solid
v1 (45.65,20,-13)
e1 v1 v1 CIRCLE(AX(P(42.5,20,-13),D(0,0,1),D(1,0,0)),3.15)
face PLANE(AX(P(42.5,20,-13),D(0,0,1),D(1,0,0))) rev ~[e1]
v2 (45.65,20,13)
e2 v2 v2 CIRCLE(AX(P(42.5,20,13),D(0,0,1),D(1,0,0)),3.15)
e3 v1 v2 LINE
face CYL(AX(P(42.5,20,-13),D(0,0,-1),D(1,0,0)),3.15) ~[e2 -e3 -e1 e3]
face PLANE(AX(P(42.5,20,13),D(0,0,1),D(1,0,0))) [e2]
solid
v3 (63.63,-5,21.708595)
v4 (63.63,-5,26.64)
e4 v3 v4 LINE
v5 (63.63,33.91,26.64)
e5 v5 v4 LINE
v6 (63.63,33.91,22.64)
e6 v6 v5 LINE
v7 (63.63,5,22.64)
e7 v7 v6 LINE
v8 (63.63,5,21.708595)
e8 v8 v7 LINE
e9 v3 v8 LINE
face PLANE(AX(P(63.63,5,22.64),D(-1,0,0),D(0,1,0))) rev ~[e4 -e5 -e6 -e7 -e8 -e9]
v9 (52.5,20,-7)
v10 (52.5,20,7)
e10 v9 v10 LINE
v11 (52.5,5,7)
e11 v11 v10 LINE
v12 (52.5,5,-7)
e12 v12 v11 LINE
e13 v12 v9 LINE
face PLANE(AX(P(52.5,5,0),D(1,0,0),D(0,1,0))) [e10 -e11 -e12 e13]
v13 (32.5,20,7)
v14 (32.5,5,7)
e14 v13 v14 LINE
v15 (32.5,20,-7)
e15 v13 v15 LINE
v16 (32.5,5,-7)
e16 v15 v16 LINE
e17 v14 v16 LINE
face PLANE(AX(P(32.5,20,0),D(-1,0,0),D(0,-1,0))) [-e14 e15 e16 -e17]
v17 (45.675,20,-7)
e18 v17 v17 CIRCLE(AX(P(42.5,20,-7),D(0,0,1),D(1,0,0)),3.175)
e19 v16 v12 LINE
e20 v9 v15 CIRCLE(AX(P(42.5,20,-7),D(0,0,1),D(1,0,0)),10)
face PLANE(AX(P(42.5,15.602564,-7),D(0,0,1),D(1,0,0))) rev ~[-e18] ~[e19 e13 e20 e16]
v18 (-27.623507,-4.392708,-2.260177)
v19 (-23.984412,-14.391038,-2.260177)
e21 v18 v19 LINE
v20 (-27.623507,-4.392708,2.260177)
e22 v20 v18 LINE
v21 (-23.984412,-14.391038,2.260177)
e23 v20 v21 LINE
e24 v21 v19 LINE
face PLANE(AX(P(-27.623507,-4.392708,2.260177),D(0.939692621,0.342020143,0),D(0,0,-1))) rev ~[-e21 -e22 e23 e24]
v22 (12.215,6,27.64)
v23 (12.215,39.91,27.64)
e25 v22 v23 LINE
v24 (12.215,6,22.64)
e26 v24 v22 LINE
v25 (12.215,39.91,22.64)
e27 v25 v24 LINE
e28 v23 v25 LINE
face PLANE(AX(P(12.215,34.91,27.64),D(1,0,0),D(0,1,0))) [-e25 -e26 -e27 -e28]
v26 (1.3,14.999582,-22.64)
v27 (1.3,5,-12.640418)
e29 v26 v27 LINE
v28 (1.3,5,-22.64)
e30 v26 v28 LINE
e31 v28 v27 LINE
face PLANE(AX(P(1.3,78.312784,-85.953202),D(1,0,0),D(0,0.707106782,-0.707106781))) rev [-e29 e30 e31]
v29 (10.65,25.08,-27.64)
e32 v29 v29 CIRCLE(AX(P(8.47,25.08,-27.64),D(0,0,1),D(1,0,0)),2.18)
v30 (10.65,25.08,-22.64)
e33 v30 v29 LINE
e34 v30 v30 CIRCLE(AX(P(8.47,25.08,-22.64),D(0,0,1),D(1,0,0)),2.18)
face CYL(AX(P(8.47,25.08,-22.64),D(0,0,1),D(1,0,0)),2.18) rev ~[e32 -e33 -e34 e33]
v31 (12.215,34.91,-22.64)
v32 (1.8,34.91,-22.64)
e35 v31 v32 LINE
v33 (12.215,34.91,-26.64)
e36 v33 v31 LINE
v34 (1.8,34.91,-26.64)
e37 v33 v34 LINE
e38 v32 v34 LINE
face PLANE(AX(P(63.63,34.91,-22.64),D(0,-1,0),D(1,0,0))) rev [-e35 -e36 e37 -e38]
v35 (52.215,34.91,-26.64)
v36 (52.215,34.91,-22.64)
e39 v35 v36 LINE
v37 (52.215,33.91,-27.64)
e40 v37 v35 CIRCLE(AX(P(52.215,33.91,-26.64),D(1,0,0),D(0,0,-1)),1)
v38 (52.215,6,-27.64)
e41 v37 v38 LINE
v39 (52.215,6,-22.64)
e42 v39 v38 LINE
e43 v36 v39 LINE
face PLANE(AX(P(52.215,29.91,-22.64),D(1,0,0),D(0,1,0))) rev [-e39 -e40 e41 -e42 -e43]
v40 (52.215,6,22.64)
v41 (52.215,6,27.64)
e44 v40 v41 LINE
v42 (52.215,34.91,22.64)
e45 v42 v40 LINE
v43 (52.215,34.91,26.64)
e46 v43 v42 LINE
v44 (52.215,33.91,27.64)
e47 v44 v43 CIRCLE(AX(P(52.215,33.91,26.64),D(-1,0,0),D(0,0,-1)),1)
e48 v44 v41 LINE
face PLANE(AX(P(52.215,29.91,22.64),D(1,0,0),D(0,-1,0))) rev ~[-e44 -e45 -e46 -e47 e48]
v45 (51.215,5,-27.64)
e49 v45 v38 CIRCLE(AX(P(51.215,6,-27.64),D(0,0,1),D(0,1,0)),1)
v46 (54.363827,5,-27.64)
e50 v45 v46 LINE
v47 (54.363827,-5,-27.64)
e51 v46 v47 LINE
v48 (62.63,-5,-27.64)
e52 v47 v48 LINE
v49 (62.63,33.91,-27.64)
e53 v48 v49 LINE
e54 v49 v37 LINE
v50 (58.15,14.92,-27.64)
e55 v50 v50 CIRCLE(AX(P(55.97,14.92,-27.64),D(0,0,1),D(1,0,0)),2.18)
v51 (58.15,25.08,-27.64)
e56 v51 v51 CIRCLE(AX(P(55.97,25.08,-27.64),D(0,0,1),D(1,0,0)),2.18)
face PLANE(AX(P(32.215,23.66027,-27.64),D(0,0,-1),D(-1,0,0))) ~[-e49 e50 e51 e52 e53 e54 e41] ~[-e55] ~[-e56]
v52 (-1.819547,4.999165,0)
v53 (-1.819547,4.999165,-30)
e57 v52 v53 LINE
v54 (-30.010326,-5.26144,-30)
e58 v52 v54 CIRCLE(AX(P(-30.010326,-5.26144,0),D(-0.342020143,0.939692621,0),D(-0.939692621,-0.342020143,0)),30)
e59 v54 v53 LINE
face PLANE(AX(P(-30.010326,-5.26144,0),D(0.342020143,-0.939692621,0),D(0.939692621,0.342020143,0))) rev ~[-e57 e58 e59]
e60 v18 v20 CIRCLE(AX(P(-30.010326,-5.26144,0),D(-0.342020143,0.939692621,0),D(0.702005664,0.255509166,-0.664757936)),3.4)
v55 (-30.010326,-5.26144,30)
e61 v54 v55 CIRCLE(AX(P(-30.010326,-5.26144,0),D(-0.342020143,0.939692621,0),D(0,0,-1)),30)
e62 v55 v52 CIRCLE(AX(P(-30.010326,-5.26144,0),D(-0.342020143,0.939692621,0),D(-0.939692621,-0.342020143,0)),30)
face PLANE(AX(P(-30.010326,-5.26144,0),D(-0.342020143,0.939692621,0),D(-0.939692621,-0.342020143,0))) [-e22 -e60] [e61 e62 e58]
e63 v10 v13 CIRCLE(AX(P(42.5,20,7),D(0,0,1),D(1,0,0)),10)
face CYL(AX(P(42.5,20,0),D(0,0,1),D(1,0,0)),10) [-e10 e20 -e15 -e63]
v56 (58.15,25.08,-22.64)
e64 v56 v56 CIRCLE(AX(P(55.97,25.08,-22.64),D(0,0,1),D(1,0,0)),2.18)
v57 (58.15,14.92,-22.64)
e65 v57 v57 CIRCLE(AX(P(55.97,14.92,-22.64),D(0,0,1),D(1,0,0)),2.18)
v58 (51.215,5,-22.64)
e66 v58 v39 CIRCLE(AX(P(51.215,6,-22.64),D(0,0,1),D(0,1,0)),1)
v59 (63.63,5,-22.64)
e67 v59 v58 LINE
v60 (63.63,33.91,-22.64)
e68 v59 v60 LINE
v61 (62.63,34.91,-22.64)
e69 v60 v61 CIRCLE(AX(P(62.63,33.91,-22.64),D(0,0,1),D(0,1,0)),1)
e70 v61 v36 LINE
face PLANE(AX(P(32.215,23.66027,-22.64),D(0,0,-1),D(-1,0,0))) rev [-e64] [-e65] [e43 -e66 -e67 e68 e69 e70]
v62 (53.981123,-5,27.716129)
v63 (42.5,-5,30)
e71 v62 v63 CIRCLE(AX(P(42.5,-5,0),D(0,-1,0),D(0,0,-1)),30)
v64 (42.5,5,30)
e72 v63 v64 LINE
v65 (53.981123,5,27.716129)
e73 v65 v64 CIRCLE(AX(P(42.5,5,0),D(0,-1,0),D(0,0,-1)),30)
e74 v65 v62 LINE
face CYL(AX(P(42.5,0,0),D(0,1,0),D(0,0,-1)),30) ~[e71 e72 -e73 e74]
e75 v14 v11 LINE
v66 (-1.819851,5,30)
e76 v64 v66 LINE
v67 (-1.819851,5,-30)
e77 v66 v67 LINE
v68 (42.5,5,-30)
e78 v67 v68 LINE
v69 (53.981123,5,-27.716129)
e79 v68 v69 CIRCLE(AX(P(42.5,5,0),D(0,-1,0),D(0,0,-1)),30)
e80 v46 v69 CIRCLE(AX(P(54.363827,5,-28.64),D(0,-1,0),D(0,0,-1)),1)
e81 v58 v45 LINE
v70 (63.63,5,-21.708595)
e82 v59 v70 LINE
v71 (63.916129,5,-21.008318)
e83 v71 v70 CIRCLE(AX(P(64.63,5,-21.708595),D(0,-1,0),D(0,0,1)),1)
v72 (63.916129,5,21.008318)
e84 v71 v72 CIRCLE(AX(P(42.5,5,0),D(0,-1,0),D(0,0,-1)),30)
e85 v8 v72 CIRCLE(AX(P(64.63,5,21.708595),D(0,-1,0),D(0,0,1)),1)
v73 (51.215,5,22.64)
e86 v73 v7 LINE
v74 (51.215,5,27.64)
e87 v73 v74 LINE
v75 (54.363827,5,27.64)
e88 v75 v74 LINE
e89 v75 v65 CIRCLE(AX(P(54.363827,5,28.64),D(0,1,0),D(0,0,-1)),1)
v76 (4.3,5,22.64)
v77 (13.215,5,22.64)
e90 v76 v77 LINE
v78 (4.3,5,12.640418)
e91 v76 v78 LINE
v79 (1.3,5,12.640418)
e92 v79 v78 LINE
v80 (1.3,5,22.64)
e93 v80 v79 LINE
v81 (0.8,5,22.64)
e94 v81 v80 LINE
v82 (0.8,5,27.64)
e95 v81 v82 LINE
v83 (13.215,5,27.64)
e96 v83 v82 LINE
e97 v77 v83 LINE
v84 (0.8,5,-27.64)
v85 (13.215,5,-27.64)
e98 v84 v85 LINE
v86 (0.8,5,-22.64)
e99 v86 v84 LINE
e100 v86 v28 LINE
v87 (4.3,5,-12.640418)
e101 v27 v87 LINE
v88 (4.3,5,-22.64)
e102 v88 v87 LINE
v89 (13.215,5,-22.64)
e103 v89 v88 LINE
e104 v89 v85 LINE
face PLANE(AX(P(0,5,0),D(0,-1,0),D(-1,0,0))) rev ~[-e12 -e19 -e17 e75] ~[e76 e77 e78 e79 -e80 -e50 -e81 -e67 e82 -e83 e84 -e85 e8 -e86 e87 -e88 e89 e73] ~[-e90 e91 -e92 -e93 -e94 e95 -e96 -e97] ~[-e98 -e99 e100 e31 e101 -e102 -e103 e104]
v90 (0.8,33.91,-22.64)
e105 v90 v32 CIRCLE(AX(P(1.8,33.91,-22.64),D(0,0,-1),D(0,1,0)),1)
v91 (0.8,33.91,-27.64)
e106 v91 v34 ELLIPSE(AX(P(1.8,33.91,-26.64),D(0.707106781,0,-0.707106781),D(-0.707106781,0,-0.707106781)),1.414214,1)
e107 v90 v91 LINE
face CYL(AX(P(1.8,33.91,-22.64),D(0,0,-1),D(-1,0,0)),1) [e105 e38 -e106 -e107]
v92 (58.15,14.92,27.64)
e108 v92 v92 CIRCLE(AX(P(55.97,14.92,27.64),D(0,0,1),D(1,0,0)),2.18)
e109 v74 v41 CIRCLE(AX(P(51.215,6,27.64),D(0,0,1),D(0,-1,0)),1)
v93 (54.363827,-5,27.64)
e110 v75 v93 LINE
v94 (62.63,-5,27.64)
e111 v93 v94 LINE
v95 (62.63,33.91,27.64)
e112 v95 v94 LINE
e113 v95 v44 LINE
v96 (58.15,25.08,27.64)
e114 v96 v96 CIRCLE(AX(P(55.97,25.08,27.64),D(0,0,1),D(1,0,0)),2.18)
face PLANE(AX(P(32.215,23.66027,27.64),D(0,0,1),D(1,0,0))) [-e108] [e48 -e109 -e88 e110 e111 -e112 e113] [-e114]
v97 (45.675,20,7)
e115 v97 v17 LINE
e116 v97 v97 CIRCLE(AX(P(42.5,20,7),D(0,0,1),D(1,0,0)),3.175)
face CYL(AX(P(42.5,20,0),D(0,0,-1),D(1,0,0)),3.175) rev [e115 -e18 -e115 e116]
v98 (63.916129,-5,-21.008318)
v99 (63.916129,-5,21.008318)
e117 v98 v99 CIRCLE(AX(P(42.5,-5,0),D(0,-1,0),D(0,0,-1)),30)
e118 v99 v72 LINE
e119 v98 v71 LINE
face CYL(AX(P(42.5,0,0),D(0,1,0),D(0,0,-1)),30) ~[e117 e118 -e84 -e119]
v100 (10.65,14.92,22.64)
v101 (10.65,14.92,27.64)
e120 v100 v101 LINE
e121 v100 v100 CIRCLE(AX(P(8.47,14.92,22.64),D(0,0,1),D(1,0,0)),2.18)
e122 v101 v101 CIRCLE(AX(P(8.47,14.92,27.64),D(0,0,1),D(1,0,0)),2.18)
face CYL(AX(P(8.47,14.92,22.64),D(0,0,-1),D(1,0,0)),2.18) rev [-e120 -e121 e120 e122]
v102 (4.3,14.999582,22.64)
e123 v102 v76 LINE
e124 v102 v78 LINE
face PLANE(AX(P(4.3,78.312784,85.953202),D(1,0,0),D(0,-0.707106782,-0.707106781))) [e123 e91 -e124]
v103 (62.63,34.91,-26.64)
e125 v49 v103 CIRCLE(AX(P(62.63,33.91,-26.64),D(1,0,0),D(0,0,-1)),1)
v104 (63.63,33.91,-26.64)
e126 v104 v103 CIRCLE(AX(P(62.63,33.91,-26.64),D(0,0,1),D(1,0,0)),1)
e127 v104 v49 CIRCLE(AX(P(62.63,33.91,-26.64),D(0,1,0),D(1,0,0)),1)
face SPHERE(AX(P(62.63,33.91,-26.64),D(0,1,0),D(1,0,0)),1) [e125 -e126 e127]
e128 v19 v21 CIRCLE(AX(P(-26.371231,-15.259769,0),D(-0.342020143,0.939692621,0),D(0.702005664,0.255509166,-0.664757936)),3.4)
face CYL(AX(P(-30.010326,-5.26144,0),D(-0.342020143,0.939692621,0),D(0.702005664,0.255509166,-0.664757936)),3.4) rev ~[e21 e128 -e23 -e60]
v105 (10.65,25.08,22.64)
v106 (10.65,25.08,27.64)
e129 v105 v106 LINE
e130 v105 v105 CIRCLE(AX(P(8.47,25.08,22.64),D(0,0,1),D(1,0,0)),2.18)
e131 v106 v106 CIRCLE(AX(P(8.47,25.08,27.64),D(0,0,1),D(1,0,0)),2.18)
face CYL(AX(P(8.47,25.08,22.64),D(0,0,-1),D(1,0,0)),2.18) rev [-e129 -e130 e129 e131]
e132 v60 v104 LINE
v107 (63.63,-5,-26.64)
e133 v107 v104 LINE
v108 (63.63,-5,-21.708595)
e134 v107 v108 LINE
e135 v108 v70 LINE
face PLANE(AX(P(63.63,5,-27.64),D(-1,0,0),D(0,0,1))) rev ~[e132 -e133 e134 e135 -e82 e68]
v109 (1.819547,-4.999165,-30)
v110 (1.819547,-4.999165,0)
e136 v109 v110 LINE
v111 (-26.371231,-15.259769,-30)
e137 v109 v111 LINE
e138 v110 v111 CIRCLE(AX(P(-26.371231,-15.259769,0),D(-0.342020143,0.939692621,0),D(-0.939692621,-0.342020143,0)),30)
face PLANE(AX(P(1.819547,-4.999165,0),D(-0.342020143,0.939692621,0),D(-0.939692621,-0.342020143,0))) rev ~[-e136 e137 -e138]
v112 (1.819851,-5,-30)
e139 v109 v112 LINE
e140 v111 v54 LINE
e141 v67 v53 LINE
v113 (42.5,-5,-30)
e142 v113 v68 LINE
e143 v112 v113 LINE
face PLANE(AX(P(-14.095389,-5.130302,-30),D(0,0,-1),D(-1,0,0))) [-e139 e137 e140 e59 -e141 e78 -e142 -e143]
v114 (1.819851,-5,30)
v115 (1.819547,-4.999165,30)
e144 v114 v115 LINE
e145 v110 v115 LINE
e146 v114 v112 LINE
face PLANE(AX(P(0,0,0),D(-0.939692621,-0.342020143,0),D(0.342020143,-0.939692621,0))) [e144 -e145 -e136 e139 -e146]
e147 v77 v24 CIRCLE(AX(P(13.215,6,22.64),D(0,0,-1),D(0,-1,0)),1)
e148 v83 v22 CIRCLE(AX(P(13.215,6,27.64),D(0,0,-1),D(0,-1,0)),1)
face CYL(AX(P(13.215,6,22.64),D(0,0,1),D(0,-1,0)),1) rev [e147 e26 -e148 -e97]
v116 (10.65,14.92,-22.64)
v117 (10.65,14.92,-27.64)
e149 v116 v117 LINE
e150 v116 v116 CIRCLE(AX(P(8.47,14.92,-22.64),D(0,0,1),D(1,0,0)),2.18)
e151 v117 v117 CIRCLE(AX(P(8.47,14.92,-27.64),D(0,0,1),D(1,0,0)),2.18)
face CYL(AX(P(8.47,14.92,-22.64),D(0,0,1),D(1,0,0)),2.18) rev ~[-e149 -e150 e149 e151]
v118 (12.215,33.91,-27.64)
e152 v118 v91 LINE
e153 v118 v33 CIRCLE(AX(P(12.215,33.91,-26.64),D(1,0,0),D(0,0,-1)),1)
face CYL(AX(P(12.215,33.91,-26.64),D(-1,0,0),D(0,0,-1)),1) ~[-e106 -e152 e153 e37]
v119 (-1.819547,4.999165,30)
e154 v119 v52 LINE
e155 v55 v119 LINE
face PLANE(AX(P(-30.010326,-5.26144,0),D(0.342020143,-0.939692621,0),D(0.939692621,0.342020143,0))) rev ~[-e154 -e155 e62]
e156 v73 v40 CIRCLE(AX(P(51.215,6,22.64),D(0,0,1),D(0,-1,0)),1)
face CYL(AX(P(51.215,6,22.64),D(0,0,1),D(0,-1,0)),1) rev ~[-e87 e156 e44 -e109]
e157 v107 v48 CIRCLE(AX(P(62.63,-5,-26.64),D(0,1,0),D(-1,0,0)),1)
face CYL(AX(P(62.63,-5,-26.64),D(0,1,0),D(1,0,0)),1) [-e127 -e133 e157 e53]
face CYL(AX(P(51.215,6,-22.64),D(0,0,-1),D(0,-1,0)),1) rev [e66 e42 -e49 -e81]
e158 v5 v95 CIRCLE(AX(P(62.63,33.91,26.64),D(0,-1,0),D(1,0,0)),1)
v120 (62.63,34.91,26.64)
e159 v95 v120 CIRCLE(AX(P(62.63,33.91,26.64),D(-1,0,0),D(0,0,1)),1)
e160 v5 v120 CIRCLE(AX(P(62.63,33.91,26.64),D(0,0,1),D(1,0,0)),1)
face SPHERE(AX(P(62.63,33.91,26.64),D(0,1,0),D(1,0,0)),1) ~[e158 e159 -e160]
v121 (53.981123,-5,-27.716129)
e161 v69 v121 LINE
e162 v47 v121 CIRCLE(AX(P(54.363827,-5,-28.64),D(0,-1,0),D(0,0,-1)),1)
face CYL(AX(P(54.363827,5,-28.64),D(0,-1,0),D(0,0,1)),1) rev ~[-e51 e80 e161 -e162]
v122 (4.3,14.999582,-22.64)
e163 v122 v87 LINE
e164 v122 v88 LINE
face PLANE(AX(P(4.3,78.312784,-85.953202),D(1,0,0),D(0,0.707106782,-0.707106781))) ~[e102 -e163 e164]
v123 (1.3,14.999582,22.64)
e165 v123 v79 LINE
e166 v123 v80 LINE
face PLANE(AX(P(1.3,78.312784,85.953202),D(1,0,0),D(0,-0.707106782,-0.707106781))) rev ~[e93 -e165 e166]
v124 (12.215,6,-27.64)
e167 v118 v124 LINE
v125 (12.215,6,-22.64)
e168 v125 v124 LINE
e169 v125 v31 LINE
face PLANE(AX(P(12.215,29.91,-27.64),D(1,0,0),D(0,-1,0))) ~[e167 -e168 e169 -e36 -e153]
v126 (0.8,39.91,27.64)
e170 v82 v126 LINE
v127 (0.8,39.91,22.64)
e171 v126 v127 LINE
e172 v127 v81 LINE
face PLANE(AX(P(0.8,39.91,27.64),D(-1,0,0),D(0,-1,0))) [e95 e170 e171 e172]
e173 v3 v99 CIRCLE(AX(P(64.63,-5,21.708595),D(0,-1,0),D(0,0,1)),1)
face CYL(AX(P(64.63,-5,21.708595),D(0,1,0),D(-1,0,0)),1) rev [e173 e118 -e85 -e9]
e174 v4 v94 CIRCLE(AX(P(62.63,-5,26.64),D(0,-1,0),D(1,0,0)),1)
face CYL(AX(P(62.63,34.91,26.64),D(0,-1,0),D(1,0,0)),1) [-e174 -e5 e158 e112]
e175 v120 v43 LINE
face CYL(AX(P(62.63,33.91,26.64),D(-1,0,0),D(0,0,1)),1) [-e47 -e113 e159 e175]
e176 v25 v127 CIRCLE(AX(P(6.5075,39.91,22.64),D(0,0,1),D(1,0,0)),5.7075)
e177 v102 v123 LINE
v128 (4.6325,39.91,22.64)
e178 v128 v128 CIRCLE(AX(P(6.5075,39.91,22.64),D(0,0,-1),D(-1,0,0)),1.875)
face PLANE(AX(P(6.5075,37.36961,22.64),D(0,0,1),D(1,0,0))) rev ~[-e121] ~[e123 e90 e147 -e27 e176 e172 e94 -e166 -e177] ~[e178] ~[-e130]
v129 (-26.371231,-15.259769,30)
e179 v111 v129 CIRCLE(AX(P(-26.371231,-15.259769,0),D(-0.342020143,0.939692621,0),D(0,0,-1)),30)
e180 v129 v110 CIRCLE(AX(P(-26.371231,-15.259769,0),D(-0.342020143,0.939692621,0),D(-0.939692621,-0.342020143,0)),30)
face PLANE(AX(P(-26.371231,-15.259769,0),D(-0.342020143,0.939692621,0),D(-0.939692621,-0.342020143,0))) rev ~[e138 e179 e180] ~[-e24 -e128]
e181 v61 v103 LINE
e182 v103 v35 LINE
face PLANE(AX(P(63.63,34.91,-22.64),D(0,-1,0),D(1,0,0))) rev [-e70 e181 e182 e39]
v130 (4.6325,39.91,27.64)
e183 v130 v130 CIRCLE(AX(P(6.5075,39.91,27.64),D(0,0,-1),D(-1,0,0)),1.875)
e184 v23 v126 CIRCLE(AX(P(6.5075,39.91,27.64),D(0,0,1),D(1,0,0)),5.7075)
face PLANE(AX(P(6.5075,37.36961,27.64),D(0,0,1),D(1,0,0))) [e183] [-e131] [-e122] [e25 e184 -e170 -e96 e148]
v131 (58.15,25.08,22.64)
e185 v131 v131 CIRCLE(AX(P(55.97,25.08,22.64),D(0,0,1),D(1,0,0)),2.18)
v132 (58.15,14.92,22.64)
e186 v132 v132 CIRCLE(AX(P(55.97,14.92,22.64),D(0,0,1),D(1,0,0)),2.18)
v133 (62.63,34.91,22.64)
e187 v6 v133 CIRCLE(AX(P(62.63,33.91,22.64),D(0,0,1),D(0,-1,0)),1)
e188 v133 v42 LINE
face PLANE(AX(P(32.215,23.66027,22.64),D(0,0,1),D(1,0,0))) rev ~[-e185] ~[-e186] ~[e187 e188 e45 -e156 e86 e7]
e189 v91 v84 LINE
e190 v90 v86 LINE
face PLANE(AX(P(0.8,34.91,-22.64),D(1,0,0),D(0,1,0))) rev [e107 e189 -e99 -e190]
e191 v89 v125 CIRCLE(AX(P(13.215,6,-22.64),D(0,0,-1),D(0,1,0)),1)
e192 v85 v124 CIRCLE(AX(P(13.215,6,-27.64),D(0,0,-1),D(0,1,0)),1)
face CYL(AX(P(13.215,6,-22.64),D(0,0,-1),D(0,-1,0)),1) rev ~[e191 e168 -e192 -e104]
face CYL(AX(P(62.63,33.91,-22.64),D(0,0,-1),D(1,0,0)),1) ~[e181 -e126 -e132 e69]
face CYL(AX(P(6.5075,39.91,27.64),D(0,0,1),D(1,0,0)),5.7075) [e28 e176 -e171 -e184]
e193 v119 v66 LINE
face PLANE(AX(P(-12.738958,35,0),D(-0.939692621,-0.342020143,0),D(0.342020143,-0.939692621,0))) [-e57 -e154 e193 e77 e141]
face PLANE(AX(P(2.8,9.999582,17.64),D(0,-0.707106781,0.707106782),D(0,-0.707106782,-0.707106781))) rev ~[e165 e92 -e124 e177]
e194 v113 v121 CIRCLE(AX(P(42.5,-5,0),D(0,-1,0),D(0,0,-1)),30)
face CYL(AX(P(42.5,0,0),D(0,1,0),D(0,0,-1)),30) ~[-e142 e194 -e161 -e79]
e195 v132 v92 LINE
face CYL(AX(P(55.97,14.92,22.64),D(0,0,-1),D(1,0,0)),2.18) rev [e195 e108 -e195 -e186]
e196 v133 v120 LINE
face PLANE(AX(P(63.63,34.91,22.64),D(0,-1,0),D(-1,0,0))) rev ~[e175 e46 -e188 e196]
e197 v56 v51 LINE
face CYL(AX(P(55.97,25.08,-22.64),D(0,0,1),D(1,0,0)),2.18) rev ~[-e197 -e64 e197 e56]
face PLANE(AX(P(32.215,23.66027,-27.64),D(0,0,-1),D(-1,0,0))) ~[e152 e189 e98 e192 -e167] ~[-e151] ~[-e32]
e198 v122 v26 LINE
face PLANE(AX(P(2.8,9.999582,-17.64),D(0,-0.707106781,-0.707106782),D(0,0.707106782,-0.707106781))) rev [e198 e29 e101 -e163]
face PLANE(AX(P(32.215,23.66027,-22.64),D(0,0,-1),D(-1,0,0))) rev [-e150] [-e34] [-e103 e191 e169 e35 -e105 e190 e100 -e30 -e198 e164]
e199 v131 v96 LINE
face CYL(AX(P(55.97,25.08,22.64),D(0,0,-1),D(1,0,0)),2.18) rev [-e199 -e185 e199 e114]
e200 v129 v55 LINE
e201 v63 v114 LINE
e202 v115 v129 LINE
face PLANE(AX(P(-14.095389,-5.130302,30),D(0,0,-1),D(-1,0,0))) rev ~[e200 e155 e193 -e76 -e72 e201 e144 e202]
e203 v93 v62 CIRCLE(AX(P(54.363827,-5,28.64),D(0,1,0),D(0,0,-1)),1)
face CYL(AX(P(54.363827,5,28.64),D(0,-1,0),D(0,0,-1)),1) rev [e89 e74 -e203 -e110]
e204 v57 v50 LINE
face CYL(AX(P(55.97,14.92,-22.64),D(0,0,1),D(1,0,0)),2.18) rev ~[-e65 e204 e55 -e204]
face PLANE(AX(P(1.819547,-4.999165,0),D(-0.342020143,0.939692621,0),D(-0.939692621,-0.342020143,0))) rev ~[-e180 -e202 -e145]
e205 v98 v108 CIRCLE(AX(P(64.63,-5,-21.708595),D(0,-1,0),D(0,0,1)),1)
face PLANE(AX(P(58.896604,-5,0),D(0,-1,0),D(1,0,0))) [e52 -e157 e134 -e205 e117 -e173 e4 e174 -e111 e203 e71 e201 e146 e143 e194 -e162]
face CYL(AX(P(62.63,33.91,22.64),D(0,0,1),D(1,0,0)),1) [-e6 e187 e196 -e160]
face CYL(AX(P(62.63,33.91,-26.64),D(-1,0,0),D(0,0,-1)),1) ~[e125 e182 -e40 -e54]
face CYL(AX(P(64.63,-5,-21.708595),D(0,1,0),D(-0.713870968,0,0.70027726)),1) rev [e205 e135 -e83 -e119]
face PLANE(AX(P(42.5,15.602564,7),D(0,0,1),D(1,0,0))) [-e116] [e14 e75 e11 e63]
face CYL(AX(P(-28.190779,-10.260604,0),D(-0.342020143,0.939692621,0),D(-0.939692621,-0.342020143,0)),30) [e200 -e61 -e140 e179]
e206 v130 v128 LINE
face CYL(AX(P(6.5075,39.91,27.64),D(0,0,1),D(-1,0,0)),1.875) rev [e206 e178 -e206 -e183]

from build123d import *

# Parameters (mm, degrees)
BOSS_EXTRU_3_DEPTH       = 5
ESQUISSE7_R              = 3.175
BOSS_EXTRU_5_DEPTH       = 7
ESQUISSE13_R             = 2.18
BOSS_EXTRU_8_DEPTH       = 5
ENL_V_MAT_EXTRU_8_REACH  = 100.981
ESQUISSE47_W             = 40
ESQUISSE47_H             = 5
ESQUISSE33_W             = 9.466792894
ESQUISSE33_H             = 55.28
BOSS_EXTRU_10_DEPTH      = 10
ENL_V_MAT_EXTRU_6_DEPTH  = 65
ESQUISSE35_R             = 30
BOSS_EXTRU_11_DEPTH      = 5.32
BOSS_EXTRU_12_DEPTH      = 30
ENL_V_MAT_EXTRU_7_DEPTH  = 60
BOSS_EXTRU_13_DEPTH      = 5
NERVURE4_REACH           = 90.538
ESQUISSE45_WALL_W        = 193.218913386
ESQUISSE45_WALL_H        = 3
CONG_1_R                 = 1
CONG_2_R                 = 1
BOSS_EXTRU_14_DEPTH      = 13
BOSS_EXTRU_14_DEPTH_BACK = 13
ESQUISSE48_R             = 3.15


with BuildPart() as part:
    # Esquisse5 → Boss.-Extru.3 (new, symmetric)
    with BuildSketch(Plane(origin=(0, 0, 0), x_dir=(1, 0, 0), z_dir=(0, 1, 0))):
        with BuildLine():
            Line((42.5, -30), (-42.5, -30))
            ThreePointArc((-42.5, -30), (-72.5, 0), (-42.5, 30))
            Line((-42.5, 30), (42.5, 30))
            ThreePointArc((42.5, 30), (72.5, 0), (42.5, -30))
        make_face()
    extrude(amount=BOSS_EXTRU_3_DEPTH, both=True)

    # Esquisse7 → Boss.-Extru.5 (add, symmetric)
    with BuildSketch(Plane.XY):
        with BuildLine():
            Line((32.5, 5), (52.5, 5))
            Line((52.5, 5), (52.5, 20))
            ThreePointArc((52.5, 20), (42.5, 30), (32.5, 20))
            Line((32.5, 20), (32.5, 5))
        make_face()
        with Locations((42.5, 20)):
            Circle(ESQUISSE7_R, mode=Mode.SUBTRACT)
    extrude(amount=BOSS_EXTRU_5_DEPTH, both=True)

    # Esquisse13 → Boss.-Extru.8 (add)
    with BuildSketch(Plane.XY.offset(22.64)):
        Polygon((0.8, 5), (5.8, 5), (12.215, 5), (12.215, 29.91), (52.215, 29.91), (52.215, 5), (58.63, 5), (63.63, 5), (63.63, 34.91), (0.8, 34.91), align=None)
        with Locations((8.47, 14.92)):
            Circle(ESQUISSE13_R, mode=Mode.SUBTRACT)
        with Locations((55.97, 14.92)):
            Circle(ESQUISSE13_R, mode=Mode.SUBTRACT)
        with Locations((8.47, 25.08)):
            Circle(ESQUISSE13_R, mode=Mode.SUBTRACT)
        with Locations((55.97, 25.08)):
            Circle(ESQUISSE13_R, mode=Mode.SUBTRACT)
    boss_extru_8 = extrude(amount=BOSS_EXTRU_8_DEPTH)

    # Esquisse47 → Enlèv. mat.-Extru.8 (cut, up to next)
    with BuildSketch(Plane.XY.offset(27.64), mode=Mode.PRIVATE) as enl_v_mat_extru_8_sk1:
        with Locations((32.215, 32.41)):
            Rectangle(ESQUISSE47_W, ESQUISSE47_H)
    enl_v_mat_extru_8_tool1 = extrude(enl_v_mat_extru_8_sk1.sketch, amount=-ENL_V_MAT_EXTRU_8_REACH, mode=Mode.PRIVATE) & part.part
    enl_v_mat_extru_8 = enl_v_mat_extru_8_tool1.solids().sort_by_distance((32.215, 32.41, 27.64))[0]
    add(enl_v_mat_extru_8, mode=Mode.SUBTRACT)

    # Symétrie2: Boss.-Extru.8, Enlèv. mat.-Extru.8 across plane
    add(boss_extru_8.mirror(Plane.XY))
    add(enl_v_mat_extru_8.mirror(Plane.XY), mode=Mode.SUBTRACT)

    # Esquisse33 → Boss.-Extru.10 (add)
    with BuildSketch(Plane.XZ.offset(-5)):
        with Locations((58.896603553, 0)):
            Rectangle(ESQUISSE33_W, ESQUISSE33_H)
    extrude(amount=BOSS_EXTRU_10_DEPTH)

    # Esquisse36 → Enlèv. mat.-Extru.6 (cut, symmetric)
    with BuildSketch(Plane.XY):
        Polygon((0, 0), (9.099255857, -25), (-112.5, -25), (-112.5, 35), (-12.738958199, 35), align=None)
    extrude(amount=ENL_V_MAT_EXTRU_6_DEPTH, both=True, mode=Mode.SUBTRACT)



with BuildPart() as body_2:
    # Esquisse35 → Boss.-Extru.11 (new, symmetric)
    with BuildSketch(Plane(origin=(0, 0, 0), x_dir=(0, 0, -1), z_dir=(-0.34202014332566977, 0.939692620785908, 0))):
        with Locations(Location((0, 30, 0), (0, 0, 90))):
            Circle(ESQUISSE35_R)
    extrude(amount=BOSS_EXTRU_11_DEPTH, both=True)


with BuildPart() as part_1:
    add(part.part)

    add(body_2.part)  # Boss.-Extru.12 merges body 2
    # Esquisse40 → Boss.-Extru.12 (add, symmetric)
    with BuildSketch(Plane.XY):
        Polygon((-26.371231461, -15.259769042), (-30.010325786, -5.261439557), (-1.819547162, 4.999164743), (1.819547162, -4.999164743), align=None)
    extrude(amount=BOSS_EXTRU_12_DEPTH, both=True)

    # Esquisse41 → Enlèv. mat.-Extru.7 (cut)
    with BuildSketch(Plane(origin=(-1.819547162, 4.999164743, 0), x_dir=(0.939692620785908, 0.3420201433256698, 0), z_dir=(-0.3420201433256698, 0.9396926207859081, 0))):
        with BuildLine():
            Line((-27.46, -2.260176984), (-27.46, 2.260176984))
            ThreePointArc((-27.46, 2.260176984), (-33.4, 0), (-27.46, -2.260176984))
        make_face()
    extrude(amount=-ENL_V_MAT_EXTRU_7_DEPTH, mode=Mode.SUBTRACT)

    # Esquisse42 → Boss.-Extru.13 (add)
    with BuildSketch(Plane.XY.offset(27.64)):
        with BuildLine():
            Line((0.8, 39.91), (0.8, 34.91))
            Line((0.8, 34.91), (12.215, 34.91))
            Line((12.215, 34.91), (12.215, 39.91))
            Line((12.215, 39.91), (8.3825, 39.91))
            ThreePointArc((8.3825, 39.91), (6.5075, 38.035), (4.6325, 39.91))
            Line((4.6325, 39.91), (0.8, 39.91))
        make_face()
        with BuildLine():
            ThreePointArc((12.215, 39.91), (6.5075, 45.6175), (0.8, 39.91))
            Line((0.8, 39.91), (4.6325, 39.91))
            ThreePointArc((4.6325, 39.91), (6.5075, 41.785), (8.3825, 39.91))
            Line((8.3825, 39.91), (12.215, 39.91))
        make_face()
    extrude(amount=-BOSS_EXTRU_13_DEPTH)

    # Esquisse45 wall → Nervure4 (add, up to next)
    with BuildSketch(Plane(origin=(2.8, 9.999582371, 17.640000004), x_dir=(0, -0.707106781505, -0.707106780868), z_dir=(0, -0.707106780868, 0.707106781505)), mode=Mode.PRIVATE) as nervure4_sk1:
        Rectangle(ESQUISSE45_WALL_W, ESQUISSE45_WALL_H)
    nervure4_tool1 = extrude(nervure4_sk1.sketch, amount=NERVURE4_REACH, mode=Mode.PRIVATE) - part_1.part
    nervure4 = nervure4_tool1.solids().sort_by_distance((2.8, 9.999582371, 17.640000004))[0]
    add(nervure4)

    # Congé1
    cong_1_edges = [part_1.edges().sort_by_distance(p)[0] for p in [
        (54.163207106, 0, 27.64),
        (63.63, 14.955, -27.64),
        (54.163207106, 0, -27.64),
        (63.63, 14.955, 27.64),
        (63.63, 0, 21.296081799),
        (63.63, 0, -21.296081799),
    ]]
    fillet(cong_1_edges, radius=CONG_1_R)

    # Symétrie3: Nervure4 across plane
    add(nervure4.mirror(Plane.XY))

    # Congé2
    cong_2_edges = [part_1.edges().sort_by_distance(p)[0] for p in [
        (63.63, 34.91, 24.64),
        (63.337106781, 34.91, 27.347106781),
        (63.63, 34.91, -24.64),
        (63.337106781, 34.91, -27.347106781),
        (0.8, 34.91, -25.14),
        (57.4225, 34.91, -27.64),
        (6.5075, 34.91, -27.64),
        (52.215, 5, 25.14),
        (12.215, 5, -25.14),
        (57.4225, 34.91, 27.64),
        (12.215, 5, 25.14),
        (52.215, 5, -25.14),
    ]]
    fillet(cong_2_edges, radius=CONG_2_R)


with BuildPart() as body_2_2:
    # Esquisse48 → Boss.-Extru.14 (new, two sides: drawn at the far end of the back side and taken through both)
    with BuildSketch(Plane.XY.offset(-BOSS_EXTRU_14_DEPTH_BACK)):
        with Locations((42.5, 20)):
            Circle(ESQUISSE48_R)
    extrude(amount=BOSS_EXTRU_14_DEPTH + BOSS_EXTRU_14_DEPTH_BACK)


solid = Compound([part_1.part, body_2_2.part])
